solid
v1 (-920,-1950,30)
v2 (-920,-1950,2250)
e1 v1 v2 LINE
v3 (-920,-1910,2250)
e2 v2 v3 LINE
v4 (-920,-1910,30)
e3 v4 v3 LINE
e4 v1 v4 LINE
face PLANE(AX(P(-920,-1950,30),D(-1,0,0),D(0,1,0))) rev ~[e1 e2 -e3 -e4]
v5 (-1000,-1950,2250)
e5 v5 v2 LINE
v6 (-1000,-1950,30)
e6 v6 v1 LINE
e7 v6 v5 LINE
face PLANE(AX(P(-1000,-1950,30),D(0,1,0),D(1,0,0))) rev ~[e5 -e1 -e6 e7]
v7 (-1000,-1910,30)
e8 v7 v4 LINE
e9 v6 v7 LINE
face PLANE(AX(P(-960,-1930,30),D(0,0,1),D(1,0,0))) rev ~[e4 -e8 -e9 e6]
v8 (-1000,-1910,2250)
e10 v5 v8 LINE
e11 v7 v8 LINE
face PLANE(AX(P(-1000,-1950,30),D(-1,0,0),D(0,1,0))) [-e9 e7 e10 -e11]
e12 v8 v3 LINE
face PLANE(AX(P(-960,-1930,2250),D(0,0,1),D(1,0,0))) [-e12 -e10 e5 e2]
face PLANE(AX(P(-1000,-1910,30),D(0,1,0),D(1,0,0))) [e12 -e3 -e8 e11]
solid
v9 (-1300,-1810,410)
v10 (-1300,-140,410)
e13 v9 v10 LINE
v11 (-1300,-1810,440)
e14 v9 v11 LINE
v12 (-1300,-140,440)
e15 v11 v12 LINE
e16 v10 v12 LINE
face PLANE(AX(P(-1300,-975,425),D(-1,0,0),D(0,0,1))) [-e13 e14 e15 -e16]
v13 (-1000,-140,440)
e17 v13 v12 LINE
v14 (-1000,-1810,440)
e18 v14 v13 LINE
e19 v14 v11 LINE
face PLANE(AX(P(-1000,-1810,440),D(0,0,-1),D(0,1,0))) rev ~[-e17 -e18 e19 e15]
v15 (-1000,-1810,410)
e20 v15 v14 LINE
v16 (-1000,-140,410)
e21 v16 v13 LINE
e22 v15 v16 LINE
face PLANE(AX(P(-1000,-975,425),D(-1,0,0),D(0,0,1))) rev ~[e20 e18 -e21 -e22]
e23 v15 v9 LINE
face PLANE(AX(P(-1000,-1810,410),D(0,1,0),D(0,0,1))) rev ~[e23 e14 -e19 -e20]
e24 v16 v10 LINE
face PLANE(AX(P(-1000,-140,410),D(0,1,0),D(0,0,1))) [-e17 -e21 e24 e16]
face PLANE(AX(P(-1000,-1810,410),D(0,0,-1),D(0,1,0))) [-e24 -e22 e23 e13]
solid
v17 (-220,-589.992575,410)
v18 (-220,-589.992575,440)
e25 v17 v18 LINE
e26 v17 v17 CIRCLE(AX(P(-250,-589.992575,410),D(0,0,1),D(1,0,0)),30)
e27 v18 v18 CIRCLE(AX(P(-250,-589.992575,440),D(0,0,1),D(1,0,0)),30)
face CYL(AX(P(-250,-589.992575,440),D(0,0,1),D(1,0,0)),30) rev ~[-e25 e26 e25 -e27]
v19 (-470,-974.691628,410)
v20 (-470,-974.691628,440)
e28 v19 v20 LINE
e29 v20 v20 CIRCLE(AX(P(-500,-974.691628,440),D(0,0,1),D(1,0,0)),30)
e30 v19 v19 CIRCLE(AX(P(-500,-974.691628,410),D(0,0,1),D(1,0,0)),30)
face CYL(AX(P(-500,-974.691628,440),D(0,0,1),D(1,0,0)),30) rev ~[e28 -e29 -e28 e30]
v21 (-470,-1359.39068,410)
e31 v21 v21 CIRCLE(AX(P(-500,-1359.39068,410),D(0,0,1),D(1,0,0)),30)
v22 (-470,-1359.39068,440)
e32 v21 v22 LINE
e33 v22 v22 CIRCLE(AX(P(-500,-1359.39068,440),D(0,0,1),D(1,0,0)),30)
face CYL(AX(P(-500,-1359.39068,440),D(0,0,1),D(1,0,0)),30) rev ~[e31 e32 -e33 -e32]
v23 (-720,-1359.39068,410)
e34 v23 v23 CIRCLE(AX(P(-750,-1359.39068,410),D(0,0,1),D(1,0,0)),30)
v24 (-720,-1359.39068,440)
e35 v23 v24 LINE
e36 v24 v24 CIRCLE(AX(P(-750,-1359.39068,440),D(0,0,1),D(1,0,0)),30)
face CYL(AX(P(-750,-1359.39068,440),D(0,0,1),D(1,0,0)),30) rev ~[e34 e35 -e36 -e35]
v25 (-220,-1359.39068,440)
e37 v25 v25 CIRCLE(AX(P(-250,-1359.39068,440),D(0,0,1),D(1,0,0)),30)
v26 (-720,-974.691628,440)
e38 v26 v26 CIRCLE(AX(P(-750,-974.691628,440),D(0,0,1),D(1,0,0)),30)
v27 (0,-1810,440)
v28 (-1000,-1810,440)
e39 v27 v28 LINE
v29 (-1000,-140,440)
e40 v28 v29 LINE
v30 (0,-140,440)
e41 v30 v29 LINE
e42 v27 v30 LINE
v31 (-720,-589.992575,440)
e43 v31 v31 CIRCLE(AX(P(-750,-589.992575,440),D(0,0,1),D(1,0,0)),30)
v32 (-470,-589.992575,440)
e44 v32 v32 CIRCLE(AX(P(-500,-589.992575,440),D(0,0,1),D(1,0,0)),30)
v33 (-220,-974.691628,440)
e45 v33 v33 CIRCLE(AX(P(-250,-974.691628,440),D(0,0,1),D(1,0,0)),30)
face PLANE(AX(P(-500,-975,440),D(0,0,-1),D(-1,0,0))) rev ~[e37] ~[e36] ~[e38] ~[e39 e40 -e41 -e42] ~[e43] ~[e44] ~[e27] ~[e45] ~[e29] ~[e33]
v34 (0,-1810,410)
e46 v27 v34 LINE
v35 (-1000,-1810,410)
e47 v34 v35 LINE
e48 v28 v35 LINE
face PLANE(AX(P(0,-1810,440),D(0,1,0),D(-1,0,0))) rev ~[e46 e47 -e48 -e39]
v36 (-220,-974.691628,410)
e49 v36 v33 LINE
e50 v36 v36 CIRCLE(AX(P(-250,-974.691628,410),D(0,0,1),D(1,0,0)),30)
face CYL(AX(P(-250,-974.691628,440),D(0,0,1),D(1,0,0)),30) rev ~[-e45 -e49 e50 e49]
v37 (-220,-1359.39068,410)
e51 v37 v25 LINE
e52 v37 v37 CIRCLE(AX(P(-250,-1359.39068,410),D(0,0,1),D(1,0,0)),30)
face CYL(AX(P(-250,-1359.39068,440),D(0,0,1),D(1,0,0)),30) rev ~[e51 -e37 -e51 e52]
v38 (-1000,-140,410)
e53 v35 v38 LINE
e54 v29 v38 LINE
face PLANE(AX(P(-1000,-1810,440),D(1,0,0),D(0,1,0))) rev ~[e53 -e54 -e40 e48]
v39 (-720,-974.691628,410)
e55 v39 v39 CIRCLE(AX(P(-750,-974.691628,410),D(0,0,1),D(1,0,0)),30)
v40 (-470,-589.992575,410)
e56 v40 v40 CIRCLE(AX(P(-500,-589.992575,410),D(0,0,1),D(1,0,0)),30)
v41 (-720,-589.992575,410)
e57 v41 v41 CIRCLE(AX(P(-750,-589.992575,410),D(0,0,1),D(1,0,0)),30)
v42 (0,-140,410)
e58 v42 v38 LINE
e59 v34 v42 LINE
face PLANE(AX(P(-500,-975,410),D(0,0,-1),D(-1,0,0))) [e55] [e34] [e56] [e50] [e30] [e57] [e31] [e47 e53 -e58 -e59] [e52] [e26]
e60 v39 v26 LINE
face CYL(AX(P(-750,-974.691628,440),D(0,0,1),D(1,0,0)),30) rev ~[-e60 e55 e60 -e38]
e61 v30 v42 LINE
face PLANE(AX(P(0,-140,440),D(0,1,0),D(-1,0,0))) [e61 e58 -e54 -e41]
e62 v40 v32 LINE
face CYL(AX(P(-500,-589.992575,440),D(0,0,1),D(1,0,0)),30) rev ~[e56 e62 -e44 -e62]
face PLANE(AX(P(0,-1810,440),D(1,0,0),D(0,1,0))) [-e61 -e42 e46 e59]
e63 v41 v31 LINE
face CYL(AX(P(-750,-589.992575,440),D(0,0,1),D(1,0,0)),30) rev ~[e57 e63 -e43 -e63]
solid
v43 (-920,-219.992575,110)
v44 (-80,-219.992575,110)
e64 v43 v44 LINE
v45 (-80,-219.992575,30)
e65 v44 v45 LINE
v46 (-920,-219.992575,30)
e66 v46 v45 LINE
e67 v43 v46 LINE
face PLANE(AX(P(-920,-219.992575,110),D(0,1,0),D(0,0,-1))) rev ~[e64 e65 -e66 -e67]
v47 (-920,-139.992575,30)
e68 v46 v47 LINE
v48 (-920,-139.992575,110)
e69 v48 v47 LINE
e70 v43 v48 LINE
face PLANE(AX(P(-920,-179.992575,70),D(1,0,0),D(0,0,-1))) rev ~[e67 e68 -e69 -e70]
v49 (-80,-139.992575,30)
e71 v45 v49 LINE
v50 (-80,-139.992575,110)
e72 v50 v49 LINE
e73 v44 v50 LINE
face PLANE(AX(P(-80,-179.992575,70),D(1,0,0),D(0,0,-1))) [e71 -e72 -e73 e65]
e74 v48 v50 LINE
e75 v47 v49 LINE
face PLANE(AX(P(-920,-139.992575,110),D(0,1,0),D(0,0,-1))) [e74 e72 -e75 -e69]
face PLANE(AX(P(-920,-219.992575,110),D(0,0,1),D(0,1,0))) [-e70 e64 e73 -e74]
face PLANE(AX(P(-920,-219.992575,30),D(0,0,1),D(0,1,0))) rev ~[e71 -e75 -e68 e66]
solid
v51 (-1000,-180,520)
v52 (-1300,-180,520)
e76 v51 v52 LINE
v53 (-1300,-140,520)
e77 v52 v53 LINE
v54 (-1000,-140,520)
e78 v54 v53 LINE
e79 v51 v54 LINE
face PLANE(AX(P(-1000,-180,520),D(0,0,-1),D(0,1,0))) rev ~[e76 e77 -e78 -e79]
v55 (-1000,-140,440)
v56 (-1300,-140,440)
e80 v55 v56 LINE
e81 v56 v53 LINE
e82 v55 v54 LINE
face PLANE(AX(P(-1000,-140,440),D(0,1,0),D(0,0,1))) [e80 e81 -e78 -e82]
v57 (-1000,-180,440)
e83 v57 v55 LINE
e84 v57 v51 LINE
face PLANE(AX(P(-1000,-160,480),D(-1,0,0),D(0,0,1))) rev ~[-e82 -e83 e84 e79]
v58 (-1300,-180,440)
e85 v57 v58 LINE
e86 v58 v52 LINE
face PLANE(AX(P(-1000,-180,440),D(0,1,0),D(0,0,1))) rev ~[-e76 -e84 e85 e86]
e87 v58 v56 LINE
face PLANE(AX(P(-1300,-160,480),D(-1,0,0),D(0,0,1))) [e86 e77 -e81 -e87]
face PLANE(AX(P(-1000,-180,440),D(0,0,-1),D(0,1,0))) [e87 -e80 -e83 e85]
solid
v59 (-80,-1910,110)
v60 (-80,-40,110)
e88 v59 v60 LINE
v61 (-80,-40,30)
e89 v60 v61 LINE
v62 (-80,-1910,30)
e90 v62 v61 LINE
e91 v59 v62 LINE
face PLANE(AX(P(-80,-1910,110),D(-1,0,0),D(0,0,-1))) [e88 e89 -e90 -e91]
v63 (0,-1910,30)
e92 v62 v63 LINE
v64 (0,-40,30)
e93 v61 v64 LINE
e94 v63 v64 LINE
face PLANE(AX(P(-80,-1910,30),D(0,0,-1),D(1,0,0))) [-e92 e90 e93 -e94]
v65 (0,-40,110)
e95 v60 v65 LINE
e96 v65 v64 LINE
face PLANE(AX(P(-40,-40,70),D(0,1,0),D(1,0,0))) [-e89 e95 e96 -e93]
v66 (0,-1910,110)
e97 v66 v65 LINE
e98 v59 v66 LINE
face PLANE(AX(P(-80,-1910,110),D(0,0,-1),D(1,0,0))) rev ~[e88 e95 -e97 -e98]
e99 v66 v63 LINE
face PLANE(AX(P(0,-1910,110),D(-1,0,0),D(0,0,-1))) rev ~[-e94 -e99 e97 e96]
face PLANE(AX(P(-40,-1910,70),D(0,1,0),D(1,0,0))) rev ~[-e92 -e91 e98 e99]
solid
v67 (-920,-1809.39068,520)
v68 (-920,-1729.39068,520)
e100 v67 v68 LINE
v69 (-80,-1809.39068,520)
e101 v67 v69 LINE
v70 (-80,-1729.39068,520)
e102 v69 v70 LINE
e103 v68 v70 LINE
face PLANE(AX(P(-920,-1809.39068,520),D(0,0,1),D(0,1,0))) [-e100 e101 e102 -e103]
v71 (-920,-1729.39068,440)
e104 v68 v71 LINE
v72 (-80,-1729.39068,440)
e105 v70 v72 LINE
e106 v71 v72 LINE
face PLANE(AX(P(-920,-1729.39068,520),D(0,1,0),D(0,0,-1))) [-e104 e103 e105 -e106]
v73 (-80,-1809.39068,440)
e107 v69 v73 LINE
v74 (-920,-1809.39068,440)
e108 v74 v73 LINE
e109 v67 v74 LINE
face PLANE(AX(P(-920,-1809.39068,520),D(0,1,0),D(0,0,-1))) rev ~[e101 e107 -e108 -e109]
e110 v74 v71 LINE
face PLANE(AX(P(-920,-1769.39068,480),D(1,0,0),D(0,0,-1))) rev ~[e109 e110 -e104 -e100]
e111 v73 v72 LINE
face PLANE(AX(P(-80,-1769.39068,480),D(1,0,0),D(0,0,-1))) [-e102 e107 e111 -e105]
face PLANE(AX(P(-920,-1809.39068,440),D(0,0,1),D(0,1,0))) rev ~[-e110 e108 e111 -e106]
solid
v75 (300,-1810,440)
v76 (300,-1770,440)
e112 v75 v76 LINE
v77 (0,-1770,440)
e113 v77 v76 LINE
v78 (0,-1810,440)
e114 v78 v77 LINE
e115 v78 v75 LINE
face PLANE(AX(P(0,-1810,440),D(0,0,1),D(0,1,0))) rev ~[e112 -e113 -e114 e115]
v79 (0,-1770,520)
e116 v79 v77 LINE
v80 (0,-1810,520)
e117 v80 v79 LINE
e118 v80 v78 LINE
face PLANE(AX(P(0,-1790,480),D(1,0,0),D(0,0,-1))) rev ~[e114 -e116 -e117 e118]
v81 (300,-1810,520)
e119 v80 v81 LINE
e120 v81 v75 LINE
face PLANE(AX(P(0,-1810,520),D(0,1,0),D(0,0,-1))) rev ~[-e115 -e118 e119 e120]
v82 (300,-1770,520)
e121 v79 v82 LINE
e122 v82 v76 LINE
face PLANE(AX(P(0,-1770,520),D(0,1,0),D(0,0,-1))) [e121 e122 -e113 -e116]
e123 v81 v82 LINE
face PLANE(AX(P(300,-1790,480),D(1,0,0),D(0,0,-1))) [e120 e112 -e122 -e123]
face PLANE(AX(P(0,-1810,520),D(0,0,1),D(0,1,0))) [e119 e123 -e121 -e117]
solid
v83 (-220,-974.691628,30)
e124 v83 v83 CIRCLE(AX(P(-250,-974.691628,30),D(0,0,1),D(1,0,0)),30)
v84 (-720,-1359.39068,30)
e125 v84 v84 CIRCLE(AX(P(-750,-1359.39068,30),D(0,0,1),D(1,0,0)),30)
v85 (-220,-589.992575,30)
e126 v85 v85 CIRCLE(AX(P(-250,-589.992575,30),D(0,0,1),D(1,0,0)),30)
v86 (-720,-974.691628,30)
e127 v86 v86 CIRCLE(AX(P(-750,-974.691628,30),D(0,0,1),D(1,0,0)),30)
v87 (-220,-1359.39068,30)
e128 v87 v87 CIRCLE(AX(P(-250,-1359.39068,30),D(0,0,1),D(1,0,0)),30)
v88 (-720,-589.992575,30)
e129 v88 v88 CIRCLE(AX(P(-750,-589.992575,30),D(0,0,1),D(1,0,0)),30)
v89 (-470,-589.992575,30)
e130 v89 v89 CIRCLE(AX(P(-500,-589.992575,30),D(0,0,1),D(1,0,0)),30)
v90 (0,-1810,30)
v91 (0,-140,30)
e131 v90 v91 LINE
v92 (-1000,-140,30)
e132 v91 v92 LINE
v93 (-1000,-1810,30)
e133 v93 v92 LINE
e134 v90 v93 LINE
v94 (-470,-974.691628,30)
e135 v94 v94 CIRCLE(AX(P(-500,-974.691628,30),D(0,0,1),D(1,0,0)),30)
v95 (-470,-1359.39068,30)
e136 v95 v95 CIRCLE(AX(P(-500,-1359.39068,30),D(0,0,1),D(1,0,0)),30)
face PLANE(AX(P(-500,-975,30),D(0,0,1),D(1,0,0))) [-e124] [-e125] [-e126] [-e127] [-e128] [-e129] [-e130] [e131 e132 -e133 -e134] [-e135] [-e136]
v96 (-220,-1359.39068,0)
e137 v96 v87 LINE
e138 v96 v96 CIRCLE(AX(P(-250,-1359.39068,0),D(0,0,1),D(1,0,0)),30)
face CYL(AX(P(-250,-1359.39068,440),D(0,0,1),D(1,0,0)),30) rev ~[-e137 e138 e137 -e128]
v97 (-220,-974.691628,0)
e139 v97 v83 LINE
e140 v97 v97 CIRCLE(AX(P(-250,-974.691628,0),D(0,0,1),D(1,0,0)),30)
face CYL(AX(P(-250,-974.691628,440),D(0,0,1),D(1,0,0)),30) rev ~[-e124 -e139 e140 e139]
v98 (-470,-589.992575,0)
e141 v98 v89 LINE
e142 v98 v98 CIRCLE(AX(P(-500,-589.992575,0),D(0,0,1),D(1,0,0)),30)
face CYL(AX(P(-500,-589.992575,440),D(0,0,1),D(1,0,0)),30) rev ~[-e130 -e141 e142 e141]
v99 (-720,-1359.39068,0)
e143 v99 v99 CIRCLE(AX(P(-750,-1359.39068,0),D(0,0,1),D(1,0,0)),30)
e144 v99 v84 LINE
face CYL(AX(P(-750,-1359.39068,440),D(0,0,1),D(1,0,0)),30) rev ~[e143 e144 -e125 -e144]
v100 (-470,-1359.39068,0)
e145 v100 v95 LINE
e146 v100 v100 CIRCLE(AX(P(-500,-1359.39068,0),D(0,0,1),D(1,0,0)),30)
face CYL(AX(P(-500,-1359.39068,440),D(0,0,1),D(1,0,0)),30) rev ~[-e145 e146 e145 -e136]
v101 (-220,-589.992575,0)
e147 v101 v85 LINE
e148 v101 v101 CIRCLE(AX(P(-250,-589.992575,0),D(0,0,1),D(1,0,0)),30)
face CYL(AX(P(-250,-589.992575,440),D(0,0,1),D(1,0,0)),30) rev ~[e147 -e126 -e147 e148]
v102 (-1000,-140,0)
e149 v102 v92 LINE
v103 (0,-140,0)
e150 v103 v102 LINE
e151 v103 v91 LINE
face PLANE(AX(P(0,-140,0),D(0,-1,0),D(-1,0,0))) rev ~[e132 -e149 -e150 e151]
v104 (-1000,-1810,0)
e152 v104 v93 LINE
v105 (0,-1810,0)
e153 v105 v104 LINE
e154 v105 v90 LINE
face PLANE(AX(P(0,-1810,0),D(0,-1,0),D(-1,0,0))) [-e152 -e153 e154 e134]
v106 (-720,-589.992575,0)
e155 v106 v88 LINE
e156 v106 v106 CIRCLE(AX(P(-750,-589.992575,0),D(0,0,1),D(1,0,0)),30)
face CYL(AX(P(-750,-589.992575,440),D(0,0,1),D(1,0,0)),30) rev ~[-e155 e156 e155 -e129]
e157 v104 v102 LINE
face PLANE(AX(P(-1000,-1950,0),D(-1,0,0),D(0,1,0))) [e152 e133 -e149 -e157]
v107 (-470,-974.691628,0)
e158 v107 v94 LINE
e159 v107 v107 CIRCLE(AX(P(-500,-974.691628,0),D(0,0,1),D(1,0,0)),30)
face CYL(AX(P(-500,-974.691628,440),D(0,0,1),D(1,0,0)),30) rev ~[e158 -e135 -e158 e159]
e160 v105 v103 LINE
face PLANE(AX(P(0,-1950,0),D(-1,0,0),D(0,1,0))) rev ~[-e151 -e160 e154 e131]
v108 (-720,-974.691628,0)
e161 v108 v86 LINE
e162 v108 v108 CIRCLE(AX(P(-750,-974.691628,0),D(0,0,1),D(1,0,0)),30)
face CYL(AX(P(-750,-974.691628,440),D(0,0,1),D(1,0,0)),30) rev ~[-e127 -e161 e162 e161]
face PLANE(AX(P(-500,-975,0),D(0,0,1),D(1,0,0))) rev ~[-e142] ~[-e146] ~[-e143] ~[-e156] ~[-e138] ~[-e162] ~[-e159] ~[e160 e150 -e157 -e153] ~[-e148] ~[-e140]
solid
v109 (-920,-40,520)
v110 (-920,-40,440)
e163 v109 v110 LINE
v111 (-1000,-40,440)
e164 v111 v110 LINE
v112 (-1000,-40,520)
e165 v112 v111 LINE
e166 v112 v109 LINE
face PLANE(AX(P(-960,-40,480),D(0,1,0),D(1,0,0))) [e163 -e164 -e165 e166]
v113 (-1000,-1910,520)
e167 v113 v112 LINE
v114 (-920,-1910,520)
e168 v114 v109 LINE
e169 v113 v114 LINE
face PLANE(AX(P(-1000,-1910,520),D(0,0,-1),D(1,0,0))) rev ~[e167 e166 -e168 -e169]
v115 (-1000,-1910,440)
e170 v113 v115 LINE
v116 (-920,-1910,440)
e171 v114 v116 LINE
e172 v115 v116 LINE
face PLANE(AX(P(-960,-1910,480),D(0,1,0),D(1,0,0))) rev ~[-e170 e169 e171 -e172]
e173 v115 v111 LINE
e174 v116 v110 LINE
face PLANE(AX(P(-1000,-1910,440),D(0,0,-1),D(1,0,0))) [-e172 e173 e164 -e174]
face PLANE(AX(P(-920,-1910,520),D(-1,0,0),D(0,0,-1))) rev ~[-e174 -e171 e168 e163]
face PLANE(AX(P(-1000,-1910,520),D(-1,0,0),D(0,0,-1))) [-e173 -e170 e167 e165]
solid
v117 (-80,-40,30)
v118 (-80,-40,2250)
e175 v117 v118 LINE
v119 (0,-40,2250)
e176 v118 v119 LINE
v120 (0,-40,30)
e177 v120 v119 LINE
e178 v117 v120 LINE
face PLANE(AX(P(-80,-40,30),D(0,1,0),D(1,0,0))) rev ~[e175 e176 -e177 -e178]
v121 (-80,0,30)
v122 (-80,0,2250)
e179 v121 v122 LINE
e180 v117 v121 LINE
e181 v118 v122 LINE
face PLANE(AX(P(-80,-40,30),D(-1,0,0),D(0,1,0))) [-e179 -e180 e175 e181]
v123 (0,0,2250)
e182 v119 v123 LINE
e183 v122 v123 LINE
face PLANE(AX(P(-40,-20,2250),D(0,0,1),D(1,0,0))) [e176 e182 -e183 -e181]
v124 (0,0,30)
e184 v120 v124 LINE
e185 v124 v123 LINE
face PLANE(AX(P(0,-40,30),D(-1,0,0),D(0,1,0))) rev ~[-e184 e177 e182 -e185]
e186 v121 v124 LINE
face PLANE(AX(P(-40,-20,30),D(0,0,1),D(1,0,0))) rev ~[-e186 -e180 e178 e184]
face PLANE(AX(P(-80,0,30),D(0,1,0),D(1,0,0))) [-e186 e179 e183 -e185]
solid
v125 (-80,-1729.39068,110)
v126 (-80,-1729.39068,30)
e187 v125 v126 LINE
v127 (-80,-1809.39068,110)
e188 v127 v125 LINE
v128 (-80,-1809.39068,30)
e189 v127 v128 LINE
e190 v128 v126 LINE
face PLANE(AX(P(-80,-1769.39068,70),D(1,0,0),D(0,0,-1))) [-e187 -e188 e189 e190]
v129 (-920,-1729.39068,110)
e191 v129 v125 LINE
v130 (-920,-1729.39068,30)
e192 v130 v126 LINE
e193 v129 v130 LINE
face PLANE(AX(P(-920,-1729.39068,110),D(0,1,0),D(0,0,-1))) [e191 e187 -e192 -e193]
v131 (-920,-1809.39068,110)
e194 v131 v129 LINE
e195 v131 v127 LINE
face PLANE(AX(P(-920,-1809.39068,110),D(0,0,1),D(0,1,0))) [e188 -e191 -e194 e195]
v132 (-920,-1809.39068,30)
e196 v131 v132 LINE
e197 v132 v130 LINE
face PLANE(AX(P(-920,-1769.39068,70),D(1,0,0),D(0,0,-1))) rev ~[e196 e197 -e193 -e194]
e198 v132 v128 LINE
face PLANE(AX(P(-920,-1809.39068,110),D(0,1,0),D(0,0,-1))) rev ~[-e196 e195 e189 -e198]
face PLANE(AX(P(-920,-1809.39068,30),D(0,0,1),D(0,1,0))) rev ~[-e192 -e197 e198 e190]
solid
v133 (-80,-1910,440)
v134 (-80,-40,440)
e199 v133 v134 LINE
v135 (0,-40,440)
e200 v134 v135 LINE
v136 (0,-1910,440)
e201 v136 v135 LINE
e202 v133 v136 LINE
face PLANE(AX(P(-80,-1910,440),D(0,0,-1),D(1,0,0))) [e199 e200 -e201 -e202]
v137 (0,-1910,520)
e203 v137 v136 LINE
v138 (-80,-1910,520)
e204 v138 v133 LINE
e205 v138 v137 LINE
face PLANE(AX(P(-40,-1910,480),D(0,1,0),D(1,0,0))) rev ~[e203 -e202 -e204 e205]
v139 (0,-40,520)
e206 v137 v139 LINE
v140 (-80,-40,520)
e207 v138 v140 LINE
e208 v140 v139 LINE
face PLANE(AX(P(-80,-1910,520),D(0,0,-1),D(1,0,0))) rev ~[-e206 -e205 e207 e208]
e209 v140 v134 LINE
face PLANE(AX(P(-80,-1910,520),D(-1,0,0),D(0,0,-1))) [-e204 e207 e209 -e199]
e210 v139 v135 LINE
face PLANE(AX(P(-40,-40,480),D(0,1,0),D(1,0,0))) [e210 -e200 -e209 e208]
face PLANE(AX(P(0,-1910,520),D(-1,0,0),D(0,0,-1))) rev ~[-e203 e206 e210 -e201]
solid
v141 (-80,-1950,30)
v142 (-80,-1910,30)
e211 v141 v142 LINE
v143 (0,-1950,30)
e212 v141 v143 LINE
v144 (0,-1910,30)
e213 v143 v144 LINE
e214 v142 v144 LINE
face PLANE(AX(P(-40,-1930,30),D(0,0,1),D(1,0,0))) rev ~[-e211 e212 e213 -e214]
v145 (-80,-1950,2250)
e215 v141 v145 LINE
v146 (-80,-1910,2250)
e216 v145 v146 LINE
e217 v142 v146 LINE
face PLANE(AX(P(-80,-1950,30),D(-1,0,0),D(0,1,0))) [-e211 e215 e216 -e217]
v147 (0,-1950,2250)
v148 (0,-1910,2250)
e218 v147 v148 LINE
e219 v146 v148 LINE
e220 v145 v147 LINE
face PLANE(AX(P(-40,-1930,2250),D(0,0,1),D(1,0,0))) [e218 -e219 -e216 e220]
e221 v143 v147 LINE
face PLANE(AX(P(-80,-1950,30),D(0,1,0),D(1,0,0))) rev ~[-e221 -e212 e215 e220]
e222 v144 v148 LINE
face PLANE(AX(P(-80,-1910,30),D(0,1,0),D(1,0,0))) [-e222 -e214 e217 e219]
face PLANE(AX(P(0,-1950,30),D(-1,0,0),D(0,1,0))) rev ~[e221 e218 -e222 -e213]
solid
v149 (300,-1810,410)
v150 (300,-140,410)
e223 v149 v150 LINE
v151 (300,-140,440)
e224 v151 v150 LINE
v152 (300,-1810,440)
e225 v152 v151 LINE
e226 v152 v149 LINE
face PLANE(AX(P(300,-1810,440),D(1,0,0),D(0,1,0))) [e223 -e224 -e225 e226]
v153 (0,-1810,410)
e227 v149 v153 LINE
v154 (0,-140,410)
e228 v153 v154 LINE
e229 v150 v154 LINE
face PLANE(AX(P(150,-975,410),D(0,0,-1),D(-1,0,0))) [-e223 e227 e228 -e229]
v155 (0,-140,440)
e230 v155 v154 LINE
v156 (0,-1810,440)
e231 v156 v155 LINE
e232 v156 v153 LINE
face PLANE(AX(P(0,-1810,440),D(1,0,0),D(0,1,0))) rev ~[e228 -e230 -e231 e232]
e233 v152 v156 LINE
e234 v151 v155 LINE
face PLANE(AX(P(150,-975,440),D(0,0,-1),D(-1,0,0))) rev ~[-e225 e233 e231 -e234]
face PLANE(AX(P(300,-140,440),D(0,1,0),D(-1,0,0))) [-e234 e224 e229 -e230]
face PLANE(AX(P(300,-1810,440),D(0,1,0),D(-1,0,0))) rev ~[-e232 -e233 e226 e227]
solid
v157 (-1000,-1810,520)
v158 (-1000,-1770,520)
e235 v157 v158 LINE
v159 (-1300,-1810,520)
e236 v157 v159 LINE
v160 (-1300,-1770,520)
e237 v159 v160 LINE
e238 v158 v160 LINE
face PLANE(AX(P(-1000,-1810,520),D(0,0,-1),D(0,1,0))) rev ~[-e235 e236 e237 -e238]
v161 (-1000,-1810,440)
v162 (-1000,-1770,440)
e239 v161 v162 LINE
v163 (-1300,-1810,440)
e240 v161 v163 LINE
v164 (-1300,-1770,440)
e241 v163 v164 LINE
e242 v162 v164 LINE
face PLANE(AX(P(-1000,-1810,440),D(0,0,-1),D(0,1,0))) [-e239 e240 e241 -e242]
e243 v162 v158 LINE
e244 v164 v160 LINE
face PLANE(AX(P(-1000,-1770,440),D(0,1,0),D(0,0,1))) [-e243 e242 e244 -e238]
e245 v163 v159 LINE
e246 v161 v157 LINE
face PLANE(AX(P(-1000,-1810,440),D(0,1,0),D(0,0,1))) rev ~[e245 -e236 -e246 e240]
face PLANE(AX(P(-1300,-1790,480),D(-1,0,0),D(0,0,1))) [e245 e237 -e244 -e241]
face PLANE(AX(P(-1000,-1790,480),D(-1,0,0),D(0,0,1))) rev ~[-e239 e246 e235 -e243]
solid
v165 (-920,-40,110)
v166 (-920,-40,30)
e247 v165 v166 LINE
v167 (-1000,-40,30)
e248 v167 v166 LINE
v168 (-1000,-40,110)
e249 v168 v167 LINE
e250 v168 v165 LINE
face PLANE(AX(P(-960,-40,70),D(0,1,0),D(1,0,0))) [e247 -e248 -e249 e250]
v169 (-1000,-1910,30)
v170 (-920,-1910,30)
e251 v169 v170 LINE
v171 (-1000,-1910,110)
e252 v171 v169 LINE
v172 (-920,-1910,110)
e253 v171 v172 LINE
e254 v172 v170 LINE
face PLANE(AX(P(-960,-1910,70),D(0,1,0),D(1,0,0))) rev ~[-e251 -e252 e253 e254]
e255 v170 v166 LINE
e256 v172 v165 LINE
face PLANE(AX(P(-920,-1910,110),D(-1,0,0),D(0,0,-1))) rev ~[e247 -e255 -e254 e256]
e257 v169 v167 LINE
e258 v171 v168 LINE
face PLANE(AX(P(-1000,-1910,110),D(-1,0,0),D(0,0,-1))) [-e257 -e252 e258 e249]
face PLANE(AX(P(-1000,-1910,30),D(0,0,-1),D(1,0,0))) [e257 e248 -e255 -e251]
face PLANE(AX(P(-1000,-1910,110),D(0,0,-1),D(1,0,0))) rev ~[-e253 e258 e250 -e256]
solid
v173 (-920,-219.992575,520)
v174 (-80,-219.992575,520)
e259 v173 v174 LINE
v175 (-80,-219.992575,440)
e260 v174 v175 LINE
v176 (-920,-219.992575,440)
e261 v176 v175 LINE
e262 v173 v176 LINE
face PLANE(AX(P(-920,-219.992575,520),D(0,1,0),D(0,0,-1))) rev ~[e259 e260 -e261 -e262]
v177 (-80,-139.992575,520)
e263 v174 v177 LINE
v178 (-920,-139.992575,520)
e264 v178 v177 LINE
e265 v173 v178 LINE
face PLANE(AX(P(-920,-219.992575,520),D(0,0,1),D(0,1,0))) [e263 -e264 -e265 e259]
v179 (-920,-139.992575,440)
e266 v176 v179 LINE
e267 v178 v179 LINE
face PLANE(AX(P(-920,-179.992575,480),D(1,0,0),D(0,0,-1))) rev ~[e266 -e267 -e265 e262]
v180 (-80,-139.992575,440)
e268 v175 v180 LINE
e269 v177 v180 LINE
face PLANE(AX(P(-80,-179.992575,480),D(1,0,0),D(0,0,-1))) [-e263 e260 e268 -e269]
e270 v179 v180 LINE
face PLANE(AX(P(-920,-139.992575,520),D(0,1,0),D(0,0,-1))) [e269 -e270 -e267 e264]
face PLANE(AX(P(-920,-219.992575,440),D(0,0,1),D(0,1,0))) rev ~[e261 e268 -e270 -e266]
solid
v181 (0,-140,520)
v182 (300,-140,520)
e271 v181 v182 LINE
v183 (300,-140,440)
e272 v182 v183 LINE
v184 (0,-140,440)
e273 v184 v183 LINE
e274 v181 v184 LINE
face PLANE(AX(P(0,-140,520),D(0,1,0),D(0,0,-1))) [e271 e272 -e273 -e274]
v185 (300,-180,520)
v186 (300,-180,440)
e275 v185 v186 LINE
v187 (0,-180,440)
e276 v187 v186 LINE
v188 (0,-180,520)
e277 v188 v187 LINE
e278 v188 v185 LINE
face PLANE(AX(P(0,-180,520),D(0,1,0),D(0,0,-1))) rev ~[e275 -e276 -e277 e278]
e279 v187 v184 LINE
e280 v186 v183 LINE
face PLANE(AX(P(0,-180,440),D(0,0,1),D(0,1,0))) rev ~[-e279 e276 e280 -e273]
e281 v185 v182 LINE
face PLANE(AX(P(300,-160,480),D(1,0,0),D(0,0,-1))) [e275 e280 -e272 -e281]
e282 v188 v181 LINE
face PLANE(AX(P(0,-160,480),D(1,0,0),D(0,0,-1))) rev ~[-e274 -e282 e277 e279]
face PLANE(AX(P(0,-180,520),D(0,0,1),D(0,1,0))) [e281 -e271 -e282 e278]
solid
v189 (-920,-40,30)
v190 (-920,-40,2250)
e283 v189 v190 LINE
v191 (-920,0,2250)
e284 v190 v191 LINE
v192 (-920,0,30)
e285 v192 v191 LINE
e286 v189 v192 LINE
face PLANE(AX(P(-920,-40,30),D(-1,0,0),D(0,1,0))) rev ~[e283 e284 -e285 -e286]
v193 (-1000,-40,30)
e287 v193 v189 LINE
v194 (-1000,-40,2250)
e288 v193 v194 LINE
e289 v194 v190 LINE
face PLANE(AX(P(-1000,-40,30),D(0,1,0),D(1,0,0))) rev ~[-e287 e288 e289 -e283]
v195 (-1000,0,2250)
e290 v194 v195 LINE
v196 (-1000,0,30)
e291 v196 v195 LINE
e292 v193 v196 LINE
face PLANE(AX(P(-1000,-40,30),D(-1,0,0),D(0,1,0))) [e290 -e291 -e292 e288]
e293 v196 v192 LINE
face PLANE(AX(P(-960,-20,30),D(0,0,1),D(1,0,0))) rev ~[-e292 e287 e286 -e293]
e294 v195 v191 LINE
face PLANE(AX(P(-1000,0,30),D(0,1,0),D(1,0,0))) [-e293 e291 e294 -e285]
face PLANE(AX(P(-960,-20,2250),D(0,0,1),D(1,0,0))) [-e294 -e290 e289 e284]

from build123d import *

# Parameters (mm, degrees)
SKETCH1_W               = 1000
SKETCH1_H               = 1950
BOSS_EXTRUDE1_DEPTH     = 30
SKETCH2_W               = 80
SKETCH2_H               = 40
BOSS_EXTRUDE2_DEPTH     = 2220
BOSS_EXTRUDE2_2_DEPTH   = 2220
BOSS_EXTRUDE2_3_DEPTH   = 2220
BOSS_EXTRUDE2_4_DEPTH   = 2220
SKETCH3_W               = 80
SKETCH3_H               = 80
BOSS_EXTRUDE3_DEPTH     = 1870
BOSS_EXTRUDE3_2_DEPTH   = 1870
SKETCH5_W               = 80
SKETCH5_H               = 80
BOSS_EXTRUDE5_DEPTH     = 1870
BOSS_EXTRUDE5_2_DEPTH   = 1870
SKETCH6_W               = 1000
SKETCH6_H               = 1670
BOSS_EXTRUDE6_DEPTH     = 30
SKETCH7_W               = 80
SKETCH7_H               = 40
BOSS_EXTRUDE7_DEPTH     = 300
BOSS_EXTRUDE7_2_DEPTH   = 300
SKETCH8_W               = 300
SKETCH8_H               = 1670
BOSS_EXTRUDE9_DEPTH     = 30
SKETCH9_W               = 1000
SKETCH9_H               = 140
CUT_EXTRUDE1_DEPTH      = 30
SKETCH11_W              = 80
SKETCH11_H              = 80
BOSS_EXTRUDE10_DEPTH    = 840
BOSS_EXTRUDE10_2_DEPTH  = 840
BOSS_EXTRUDE10_3_DEPTH  = 840
BOSS_EXTRUDE10_4_DEPTH  = 840
SKETCH12_W              = 30
SKETCH12_H              = 1670
BOSS_EXTRUDE11_DEPTH    = 300
SKETCH13_W              = 80
SKETCH13_H              = 40
BOSS_EXTRUDE12_DEPTH    = 300
BOSS_EXTRUDE12_2_DEPTH  = 300
SKETCH14_R              = 30
CUT_EXTRUDE2_DEPTH      = 1811
CUT_EXTRUDE2_DEPTH_BACK = 441


with BuildPart() as part:
    # Sketch1 → Boss-Extrude1 (new body)
    with BuildSketch(Plane.XY):
        with Locations((-500, -975)):
            Rectangle(SKETCH1_W, SKETCH1_H)
    extrude(amount=BOSS_EXTRUDE1_DEPTH)

    # Sketch9 → Cut-Extrude1 (cut)
    with BuildSketch(Plane(origin=(0, 0, 0), x_dir=(-1, 0, 0), z_dir=(0, 0, -1))):
        with Locations((500, -70)):
            Rectangle(SKETCH9_W, SKETCH9_H)
        with Locations((500, -1880)):
            Rectangle(SKETCH9_W, SKETCH9_H)
    extrude(amount=-CUT_EXTRUDE1_DEPTH, mode=Mode.SUBTRACT)


with BuildPart() as body_2:
    # Sketch2 → Boss-Extrude2 (new body)
    with BuildSketch(Plane.XY.offset(30)):
        with Locations((-40, -20)):
            Rectangle(SKETCH2_W, SKETCH2_H)
    extrude(amount=BOSS_EXTRUDE2_DEPTH)


with BuildPart() as body_3:
    # Sketch2 → Boss-Extrude2 2 (new body)
    with BuildSketch(Plane.XY.offset(30)):
        with Locations((-960, -20)):
            Rectangle(SKETCH2_W, SKETCH2_H)
    extrude(amount=BOSS_EXTRUDE2_2_DEPTH)


with BuildPart() as body_4:
    # Sketch2 → Boss-Extrude2 3 (new body)
    with BuildSketch(Plane.XY.offset(30)):
        with Locations((-40, -1930)):
            Rectangle(SKETCH2_W, SKETCH2_H)
    extrude(amount=BOSS_EXTRUDE2_3_DEPTH)


with BuildPart() as body_5:
    # Sketch2 → Boss-Extrude2 4 (new body)
    with BuildSketch(Plane.XY.offset(30)):
        with Locations((-960, -1930)):
            Rectangle(SKETCH2_W, SKETCH2_H)
    extrude(amount=BOSS_EXTRUDE2_4_DEPTH)


with BuildPart() as body_6:
    # Sketch3 → Boss-Extrude3 (new body)
    with BuildSketch(Plane(origin=(0, -1910, 0), x_dir=(1, 0, 0), z_dir=(0, 1, 0))):
        with Locations((-40, -70)):
            Rectangle(SKETCH3_W, SKETCH3_H)
    extrude(amount=BOSS_EXTRUDE3_DEPTH)


with BuildPart() as body_7:
    # Sketch3 → Boss-Extrude3 2 (new body)
    with BuildSketch(Plane(origin=(0, -1910, 0), x_dir=(1, 0, 0), z_dir=(0, 1, 0))):
        with Locations((-960, -70)):
            Rectangle(SKETCH3_W, SKETCH3_H)
    extrude(amount=BOSS_EXTRUDE3_2_DEPTH)


with BuildPart() as body_8:
    # Sketch5 → Boss-Extrude5 (new body)
    with BuildSketch(Plane(origin=(0, -1910, 0), x_dir=(1, 0, 0), z_dir=(0, 1, 0))):
        with Locations((-960, -480)):
            Rectangle(SKETCH5_W, SKETCH5_H)
    extrude(amount=BOSS_EXTRUDE5_DEPTH)


with BuildPart() as body_9:
    # Sketch5 → Boss-Extrude5 2 (new body)
    with BuildSketch(Plane(origin=(0, -1910, 0), x_dir=(1, 0, 0), z_dir=(0, 1, 0))):
        with Locations((-40, -480)):
            Rectangle(SKETCH5_W, SKETCH5_H)
    extrude(amount=BOSS_EXTRUDE5_2_DEPTH)


with BuildPart() as body_10:
    # Sketch6 → Boss-Extrude6 (new body)
    with BuildSketch(Plane(origin=(0, 0, 440), x_dir=(-1, 0, 0), z_dir=(0, 0, -1))):
        with Locations((500, -975)):
            Rectangle(SKETCH6_W, SKETCH6_H)
    extrude(amount=BOSS_EXTRUDE6_DEPTH)


with BuildPart() as body_11:
    # Sketch7 → Boss-Extrude7 (new body)
    with BuildSketch(Plane(origin=(0, 0, 0), x_dir=(0, 0, -1), z_dir=(1, 0, 0))):
        with Locations((-480, -160)):
            Rectangle(SKETCH7_W, SKETCH7_H)
    extrude(amount=BOSS_EXTRUDE7_DEPTH)


with BuildPart() as body_12:
    # Sketch7 → Boss-Extrude7 2 (new body)
    with BuildSketch(Plane(origin=(0, 0, 0), x_dir=(0, 0, -1), z_dir=(1, 0, 0))):
        with Locations((-480, -1790)):
            Rectangle(SKETCH7_W, SKETCH7_H)
    extrude(amount=BOSS_EXTRUDE7_2_DEPTH)


with BuildPart() as body_13:
    # Sketch8 → Boss-Extrude9 (new body)
    with BuildSketch(Plane(origin=(0, 0, 440), x_dir=(-1, 0, 0), z_dir=(0, 0, -1))):
        with Locations((-150, -975)):
            Rectangle(SKETCH8_W, SKETCH8_H)
    extrude(amount=BOSS_EXTRUDE9_DEPTH)


with BuildPart() as body_14:
    # Sketch11 → Boss-Extrude10 (new body)
    with BuildSketch(Plane(origin=(-920, 0, 0), x_dir=(0, 0, -1), z_dir=(1, 0, 0))):
        with Locations((-70, -179.992574532)):
            Rectangle(SKETCH11_W, SKETCH11_H)
    extrude(amount=BOSS_EXTRUDE10_DEPTH)


with BuildPart() as body_15:
    # Sketch11 → Boss-Extrude10 2 (new body)
    with BuildSketch(Plane(origin=(-920, 0, 0), x_dir=(0, 0, -1), z_dir=(1, 0, 0))):
        with Locations((-480, -179.992574532)):
            Rectangle(SKETCH11_W, SKETCH11_H)
    extrude(amount=BOSS_EXTRUDE10_2_DEPTH)


with BuildPart() as body_16:
    # Sketch11 → Boss-Extrude10 3 (new body)
    with BuildSketch(Plane(origin=(-920, 0, 0), x_dir=(0, 0, -1), z_dir=(1, 0, 0))):
        with Locations((-480, -1769.390680485)):
            Rectangle(SKETCH11_W, SKETCH11_H)
    extrude(amount=BOSS_EXTRUDE10_3_DEPTH)


with BuildPart() as body_17:
    # Sketch11 → Boss-Extrude10 4 (new body)
    with BuildSketch(Plane(origin=(-920, 0, 0), x_dir=(0, 0, -1), z_dir=(1, 0, 0))):
        with Locations((-70, -1769.390680485)):
            Rectangle(SKETCH11_W, SKETCH11_H)
    extrude(amount=BOSS_EXTRUDE10_4_DEPTH)


with BuildPart() as body_18:
    # Sketch12 → Boss-Extrude11 (new body)
    with BuildSketch(Plane.ZY.offset(1000)):
        with Locations((425, -975)):
            Rectangle(SKETCH12_W, SKETCH12_H)
    extrude(amount=BOSS_EXTRUDE11_DEPTH)


with BuildPart() as body_19:
    # Sketch13 → Boss-Extrude12 (new body)
    with BuildSketch(Plane.ZY.offset(1000)):
        with Locations((480, -160)):
            Rectangle(SKETCH13_W, SKETCH13_H)
    extrude(amount=BOSS_EXTRUDE12_DEPTH)


with BuildPart() as body_20:
    # Sketch13 → Boss-Extrude12 2 (new body)
    with BuildSketch(Plane.ZY.offset(1000)):
        with Locations((480, -1790)):
            Rectangle(SKETCH13_W, SKETCH13_H)
    extrude(amount=BOSS_EXTRUDE12_2_DEPTH)


with BuildPart() as cut_extrude2_tool:
    # Sketch14 → Cut-Extrude2 (new body, two sides)
    with BuildSketch(Plane.XY.offset(440)) as cut_extrude2_sk:
        with Locations((-750, -589.992574532)):
            Circle(SKETCH14_R)
        with Locations((-500, -589.992574532)):
            Circle(SKETCH14_R)
        with Locations((-250, -589.992574532)):
            Circle(SKETCH14_R)
        with Locations((-500, -974.691627509)):
            Circle(SKETCH14_R)
        with Locations((-250, -974.691627509)):
            Circle(SKETCH14_R)
        with Locations((-500, -1359.390680485)):
            Circle(SKETCH14_R)
        with Locations((-250, -1359.390680485)):
            Circle(SKETCH14_R)
        with Locations((-750, -974.691627509)):
            Circle(SKETCH14_R)
        with Locations((-750, -1359.390680485)):
            Circle(SKETCH14_R)
    extrude(amount=CUT_EXTRUDE2_DEPTH)
    extrude(cut_extrude2_sk.sketch, amount=-CUT_EXTRUDE2_DEPTH_BACK)


with BuildPart() as part_1:
    add(part.part)

    # Cut-Extrude2: cut by cut_extrude2_tool
    add(cut_extrude2_tool.part, mode=Mode.SUBTRACT)


with BuildPart() as body_10_1:
    add(body_10.part)

    # Cut-Extrude2: cut by cut_extrude2_tool
    add(cut_extrude2_tool.part, mode=Mode.SUBTRACT)


solid = Compound([body_2.part, body_3.part, body_4.part, body_5.part, body_6.part, body_7.part, body_8.part, body_9.part, body_11.part, body_12.part, body_13.part, body_14.part, body_15.part, body_16.part, body_17.part, body_18.part, body_19.part, body_20.part, part_1.part, body_10_1.part])
